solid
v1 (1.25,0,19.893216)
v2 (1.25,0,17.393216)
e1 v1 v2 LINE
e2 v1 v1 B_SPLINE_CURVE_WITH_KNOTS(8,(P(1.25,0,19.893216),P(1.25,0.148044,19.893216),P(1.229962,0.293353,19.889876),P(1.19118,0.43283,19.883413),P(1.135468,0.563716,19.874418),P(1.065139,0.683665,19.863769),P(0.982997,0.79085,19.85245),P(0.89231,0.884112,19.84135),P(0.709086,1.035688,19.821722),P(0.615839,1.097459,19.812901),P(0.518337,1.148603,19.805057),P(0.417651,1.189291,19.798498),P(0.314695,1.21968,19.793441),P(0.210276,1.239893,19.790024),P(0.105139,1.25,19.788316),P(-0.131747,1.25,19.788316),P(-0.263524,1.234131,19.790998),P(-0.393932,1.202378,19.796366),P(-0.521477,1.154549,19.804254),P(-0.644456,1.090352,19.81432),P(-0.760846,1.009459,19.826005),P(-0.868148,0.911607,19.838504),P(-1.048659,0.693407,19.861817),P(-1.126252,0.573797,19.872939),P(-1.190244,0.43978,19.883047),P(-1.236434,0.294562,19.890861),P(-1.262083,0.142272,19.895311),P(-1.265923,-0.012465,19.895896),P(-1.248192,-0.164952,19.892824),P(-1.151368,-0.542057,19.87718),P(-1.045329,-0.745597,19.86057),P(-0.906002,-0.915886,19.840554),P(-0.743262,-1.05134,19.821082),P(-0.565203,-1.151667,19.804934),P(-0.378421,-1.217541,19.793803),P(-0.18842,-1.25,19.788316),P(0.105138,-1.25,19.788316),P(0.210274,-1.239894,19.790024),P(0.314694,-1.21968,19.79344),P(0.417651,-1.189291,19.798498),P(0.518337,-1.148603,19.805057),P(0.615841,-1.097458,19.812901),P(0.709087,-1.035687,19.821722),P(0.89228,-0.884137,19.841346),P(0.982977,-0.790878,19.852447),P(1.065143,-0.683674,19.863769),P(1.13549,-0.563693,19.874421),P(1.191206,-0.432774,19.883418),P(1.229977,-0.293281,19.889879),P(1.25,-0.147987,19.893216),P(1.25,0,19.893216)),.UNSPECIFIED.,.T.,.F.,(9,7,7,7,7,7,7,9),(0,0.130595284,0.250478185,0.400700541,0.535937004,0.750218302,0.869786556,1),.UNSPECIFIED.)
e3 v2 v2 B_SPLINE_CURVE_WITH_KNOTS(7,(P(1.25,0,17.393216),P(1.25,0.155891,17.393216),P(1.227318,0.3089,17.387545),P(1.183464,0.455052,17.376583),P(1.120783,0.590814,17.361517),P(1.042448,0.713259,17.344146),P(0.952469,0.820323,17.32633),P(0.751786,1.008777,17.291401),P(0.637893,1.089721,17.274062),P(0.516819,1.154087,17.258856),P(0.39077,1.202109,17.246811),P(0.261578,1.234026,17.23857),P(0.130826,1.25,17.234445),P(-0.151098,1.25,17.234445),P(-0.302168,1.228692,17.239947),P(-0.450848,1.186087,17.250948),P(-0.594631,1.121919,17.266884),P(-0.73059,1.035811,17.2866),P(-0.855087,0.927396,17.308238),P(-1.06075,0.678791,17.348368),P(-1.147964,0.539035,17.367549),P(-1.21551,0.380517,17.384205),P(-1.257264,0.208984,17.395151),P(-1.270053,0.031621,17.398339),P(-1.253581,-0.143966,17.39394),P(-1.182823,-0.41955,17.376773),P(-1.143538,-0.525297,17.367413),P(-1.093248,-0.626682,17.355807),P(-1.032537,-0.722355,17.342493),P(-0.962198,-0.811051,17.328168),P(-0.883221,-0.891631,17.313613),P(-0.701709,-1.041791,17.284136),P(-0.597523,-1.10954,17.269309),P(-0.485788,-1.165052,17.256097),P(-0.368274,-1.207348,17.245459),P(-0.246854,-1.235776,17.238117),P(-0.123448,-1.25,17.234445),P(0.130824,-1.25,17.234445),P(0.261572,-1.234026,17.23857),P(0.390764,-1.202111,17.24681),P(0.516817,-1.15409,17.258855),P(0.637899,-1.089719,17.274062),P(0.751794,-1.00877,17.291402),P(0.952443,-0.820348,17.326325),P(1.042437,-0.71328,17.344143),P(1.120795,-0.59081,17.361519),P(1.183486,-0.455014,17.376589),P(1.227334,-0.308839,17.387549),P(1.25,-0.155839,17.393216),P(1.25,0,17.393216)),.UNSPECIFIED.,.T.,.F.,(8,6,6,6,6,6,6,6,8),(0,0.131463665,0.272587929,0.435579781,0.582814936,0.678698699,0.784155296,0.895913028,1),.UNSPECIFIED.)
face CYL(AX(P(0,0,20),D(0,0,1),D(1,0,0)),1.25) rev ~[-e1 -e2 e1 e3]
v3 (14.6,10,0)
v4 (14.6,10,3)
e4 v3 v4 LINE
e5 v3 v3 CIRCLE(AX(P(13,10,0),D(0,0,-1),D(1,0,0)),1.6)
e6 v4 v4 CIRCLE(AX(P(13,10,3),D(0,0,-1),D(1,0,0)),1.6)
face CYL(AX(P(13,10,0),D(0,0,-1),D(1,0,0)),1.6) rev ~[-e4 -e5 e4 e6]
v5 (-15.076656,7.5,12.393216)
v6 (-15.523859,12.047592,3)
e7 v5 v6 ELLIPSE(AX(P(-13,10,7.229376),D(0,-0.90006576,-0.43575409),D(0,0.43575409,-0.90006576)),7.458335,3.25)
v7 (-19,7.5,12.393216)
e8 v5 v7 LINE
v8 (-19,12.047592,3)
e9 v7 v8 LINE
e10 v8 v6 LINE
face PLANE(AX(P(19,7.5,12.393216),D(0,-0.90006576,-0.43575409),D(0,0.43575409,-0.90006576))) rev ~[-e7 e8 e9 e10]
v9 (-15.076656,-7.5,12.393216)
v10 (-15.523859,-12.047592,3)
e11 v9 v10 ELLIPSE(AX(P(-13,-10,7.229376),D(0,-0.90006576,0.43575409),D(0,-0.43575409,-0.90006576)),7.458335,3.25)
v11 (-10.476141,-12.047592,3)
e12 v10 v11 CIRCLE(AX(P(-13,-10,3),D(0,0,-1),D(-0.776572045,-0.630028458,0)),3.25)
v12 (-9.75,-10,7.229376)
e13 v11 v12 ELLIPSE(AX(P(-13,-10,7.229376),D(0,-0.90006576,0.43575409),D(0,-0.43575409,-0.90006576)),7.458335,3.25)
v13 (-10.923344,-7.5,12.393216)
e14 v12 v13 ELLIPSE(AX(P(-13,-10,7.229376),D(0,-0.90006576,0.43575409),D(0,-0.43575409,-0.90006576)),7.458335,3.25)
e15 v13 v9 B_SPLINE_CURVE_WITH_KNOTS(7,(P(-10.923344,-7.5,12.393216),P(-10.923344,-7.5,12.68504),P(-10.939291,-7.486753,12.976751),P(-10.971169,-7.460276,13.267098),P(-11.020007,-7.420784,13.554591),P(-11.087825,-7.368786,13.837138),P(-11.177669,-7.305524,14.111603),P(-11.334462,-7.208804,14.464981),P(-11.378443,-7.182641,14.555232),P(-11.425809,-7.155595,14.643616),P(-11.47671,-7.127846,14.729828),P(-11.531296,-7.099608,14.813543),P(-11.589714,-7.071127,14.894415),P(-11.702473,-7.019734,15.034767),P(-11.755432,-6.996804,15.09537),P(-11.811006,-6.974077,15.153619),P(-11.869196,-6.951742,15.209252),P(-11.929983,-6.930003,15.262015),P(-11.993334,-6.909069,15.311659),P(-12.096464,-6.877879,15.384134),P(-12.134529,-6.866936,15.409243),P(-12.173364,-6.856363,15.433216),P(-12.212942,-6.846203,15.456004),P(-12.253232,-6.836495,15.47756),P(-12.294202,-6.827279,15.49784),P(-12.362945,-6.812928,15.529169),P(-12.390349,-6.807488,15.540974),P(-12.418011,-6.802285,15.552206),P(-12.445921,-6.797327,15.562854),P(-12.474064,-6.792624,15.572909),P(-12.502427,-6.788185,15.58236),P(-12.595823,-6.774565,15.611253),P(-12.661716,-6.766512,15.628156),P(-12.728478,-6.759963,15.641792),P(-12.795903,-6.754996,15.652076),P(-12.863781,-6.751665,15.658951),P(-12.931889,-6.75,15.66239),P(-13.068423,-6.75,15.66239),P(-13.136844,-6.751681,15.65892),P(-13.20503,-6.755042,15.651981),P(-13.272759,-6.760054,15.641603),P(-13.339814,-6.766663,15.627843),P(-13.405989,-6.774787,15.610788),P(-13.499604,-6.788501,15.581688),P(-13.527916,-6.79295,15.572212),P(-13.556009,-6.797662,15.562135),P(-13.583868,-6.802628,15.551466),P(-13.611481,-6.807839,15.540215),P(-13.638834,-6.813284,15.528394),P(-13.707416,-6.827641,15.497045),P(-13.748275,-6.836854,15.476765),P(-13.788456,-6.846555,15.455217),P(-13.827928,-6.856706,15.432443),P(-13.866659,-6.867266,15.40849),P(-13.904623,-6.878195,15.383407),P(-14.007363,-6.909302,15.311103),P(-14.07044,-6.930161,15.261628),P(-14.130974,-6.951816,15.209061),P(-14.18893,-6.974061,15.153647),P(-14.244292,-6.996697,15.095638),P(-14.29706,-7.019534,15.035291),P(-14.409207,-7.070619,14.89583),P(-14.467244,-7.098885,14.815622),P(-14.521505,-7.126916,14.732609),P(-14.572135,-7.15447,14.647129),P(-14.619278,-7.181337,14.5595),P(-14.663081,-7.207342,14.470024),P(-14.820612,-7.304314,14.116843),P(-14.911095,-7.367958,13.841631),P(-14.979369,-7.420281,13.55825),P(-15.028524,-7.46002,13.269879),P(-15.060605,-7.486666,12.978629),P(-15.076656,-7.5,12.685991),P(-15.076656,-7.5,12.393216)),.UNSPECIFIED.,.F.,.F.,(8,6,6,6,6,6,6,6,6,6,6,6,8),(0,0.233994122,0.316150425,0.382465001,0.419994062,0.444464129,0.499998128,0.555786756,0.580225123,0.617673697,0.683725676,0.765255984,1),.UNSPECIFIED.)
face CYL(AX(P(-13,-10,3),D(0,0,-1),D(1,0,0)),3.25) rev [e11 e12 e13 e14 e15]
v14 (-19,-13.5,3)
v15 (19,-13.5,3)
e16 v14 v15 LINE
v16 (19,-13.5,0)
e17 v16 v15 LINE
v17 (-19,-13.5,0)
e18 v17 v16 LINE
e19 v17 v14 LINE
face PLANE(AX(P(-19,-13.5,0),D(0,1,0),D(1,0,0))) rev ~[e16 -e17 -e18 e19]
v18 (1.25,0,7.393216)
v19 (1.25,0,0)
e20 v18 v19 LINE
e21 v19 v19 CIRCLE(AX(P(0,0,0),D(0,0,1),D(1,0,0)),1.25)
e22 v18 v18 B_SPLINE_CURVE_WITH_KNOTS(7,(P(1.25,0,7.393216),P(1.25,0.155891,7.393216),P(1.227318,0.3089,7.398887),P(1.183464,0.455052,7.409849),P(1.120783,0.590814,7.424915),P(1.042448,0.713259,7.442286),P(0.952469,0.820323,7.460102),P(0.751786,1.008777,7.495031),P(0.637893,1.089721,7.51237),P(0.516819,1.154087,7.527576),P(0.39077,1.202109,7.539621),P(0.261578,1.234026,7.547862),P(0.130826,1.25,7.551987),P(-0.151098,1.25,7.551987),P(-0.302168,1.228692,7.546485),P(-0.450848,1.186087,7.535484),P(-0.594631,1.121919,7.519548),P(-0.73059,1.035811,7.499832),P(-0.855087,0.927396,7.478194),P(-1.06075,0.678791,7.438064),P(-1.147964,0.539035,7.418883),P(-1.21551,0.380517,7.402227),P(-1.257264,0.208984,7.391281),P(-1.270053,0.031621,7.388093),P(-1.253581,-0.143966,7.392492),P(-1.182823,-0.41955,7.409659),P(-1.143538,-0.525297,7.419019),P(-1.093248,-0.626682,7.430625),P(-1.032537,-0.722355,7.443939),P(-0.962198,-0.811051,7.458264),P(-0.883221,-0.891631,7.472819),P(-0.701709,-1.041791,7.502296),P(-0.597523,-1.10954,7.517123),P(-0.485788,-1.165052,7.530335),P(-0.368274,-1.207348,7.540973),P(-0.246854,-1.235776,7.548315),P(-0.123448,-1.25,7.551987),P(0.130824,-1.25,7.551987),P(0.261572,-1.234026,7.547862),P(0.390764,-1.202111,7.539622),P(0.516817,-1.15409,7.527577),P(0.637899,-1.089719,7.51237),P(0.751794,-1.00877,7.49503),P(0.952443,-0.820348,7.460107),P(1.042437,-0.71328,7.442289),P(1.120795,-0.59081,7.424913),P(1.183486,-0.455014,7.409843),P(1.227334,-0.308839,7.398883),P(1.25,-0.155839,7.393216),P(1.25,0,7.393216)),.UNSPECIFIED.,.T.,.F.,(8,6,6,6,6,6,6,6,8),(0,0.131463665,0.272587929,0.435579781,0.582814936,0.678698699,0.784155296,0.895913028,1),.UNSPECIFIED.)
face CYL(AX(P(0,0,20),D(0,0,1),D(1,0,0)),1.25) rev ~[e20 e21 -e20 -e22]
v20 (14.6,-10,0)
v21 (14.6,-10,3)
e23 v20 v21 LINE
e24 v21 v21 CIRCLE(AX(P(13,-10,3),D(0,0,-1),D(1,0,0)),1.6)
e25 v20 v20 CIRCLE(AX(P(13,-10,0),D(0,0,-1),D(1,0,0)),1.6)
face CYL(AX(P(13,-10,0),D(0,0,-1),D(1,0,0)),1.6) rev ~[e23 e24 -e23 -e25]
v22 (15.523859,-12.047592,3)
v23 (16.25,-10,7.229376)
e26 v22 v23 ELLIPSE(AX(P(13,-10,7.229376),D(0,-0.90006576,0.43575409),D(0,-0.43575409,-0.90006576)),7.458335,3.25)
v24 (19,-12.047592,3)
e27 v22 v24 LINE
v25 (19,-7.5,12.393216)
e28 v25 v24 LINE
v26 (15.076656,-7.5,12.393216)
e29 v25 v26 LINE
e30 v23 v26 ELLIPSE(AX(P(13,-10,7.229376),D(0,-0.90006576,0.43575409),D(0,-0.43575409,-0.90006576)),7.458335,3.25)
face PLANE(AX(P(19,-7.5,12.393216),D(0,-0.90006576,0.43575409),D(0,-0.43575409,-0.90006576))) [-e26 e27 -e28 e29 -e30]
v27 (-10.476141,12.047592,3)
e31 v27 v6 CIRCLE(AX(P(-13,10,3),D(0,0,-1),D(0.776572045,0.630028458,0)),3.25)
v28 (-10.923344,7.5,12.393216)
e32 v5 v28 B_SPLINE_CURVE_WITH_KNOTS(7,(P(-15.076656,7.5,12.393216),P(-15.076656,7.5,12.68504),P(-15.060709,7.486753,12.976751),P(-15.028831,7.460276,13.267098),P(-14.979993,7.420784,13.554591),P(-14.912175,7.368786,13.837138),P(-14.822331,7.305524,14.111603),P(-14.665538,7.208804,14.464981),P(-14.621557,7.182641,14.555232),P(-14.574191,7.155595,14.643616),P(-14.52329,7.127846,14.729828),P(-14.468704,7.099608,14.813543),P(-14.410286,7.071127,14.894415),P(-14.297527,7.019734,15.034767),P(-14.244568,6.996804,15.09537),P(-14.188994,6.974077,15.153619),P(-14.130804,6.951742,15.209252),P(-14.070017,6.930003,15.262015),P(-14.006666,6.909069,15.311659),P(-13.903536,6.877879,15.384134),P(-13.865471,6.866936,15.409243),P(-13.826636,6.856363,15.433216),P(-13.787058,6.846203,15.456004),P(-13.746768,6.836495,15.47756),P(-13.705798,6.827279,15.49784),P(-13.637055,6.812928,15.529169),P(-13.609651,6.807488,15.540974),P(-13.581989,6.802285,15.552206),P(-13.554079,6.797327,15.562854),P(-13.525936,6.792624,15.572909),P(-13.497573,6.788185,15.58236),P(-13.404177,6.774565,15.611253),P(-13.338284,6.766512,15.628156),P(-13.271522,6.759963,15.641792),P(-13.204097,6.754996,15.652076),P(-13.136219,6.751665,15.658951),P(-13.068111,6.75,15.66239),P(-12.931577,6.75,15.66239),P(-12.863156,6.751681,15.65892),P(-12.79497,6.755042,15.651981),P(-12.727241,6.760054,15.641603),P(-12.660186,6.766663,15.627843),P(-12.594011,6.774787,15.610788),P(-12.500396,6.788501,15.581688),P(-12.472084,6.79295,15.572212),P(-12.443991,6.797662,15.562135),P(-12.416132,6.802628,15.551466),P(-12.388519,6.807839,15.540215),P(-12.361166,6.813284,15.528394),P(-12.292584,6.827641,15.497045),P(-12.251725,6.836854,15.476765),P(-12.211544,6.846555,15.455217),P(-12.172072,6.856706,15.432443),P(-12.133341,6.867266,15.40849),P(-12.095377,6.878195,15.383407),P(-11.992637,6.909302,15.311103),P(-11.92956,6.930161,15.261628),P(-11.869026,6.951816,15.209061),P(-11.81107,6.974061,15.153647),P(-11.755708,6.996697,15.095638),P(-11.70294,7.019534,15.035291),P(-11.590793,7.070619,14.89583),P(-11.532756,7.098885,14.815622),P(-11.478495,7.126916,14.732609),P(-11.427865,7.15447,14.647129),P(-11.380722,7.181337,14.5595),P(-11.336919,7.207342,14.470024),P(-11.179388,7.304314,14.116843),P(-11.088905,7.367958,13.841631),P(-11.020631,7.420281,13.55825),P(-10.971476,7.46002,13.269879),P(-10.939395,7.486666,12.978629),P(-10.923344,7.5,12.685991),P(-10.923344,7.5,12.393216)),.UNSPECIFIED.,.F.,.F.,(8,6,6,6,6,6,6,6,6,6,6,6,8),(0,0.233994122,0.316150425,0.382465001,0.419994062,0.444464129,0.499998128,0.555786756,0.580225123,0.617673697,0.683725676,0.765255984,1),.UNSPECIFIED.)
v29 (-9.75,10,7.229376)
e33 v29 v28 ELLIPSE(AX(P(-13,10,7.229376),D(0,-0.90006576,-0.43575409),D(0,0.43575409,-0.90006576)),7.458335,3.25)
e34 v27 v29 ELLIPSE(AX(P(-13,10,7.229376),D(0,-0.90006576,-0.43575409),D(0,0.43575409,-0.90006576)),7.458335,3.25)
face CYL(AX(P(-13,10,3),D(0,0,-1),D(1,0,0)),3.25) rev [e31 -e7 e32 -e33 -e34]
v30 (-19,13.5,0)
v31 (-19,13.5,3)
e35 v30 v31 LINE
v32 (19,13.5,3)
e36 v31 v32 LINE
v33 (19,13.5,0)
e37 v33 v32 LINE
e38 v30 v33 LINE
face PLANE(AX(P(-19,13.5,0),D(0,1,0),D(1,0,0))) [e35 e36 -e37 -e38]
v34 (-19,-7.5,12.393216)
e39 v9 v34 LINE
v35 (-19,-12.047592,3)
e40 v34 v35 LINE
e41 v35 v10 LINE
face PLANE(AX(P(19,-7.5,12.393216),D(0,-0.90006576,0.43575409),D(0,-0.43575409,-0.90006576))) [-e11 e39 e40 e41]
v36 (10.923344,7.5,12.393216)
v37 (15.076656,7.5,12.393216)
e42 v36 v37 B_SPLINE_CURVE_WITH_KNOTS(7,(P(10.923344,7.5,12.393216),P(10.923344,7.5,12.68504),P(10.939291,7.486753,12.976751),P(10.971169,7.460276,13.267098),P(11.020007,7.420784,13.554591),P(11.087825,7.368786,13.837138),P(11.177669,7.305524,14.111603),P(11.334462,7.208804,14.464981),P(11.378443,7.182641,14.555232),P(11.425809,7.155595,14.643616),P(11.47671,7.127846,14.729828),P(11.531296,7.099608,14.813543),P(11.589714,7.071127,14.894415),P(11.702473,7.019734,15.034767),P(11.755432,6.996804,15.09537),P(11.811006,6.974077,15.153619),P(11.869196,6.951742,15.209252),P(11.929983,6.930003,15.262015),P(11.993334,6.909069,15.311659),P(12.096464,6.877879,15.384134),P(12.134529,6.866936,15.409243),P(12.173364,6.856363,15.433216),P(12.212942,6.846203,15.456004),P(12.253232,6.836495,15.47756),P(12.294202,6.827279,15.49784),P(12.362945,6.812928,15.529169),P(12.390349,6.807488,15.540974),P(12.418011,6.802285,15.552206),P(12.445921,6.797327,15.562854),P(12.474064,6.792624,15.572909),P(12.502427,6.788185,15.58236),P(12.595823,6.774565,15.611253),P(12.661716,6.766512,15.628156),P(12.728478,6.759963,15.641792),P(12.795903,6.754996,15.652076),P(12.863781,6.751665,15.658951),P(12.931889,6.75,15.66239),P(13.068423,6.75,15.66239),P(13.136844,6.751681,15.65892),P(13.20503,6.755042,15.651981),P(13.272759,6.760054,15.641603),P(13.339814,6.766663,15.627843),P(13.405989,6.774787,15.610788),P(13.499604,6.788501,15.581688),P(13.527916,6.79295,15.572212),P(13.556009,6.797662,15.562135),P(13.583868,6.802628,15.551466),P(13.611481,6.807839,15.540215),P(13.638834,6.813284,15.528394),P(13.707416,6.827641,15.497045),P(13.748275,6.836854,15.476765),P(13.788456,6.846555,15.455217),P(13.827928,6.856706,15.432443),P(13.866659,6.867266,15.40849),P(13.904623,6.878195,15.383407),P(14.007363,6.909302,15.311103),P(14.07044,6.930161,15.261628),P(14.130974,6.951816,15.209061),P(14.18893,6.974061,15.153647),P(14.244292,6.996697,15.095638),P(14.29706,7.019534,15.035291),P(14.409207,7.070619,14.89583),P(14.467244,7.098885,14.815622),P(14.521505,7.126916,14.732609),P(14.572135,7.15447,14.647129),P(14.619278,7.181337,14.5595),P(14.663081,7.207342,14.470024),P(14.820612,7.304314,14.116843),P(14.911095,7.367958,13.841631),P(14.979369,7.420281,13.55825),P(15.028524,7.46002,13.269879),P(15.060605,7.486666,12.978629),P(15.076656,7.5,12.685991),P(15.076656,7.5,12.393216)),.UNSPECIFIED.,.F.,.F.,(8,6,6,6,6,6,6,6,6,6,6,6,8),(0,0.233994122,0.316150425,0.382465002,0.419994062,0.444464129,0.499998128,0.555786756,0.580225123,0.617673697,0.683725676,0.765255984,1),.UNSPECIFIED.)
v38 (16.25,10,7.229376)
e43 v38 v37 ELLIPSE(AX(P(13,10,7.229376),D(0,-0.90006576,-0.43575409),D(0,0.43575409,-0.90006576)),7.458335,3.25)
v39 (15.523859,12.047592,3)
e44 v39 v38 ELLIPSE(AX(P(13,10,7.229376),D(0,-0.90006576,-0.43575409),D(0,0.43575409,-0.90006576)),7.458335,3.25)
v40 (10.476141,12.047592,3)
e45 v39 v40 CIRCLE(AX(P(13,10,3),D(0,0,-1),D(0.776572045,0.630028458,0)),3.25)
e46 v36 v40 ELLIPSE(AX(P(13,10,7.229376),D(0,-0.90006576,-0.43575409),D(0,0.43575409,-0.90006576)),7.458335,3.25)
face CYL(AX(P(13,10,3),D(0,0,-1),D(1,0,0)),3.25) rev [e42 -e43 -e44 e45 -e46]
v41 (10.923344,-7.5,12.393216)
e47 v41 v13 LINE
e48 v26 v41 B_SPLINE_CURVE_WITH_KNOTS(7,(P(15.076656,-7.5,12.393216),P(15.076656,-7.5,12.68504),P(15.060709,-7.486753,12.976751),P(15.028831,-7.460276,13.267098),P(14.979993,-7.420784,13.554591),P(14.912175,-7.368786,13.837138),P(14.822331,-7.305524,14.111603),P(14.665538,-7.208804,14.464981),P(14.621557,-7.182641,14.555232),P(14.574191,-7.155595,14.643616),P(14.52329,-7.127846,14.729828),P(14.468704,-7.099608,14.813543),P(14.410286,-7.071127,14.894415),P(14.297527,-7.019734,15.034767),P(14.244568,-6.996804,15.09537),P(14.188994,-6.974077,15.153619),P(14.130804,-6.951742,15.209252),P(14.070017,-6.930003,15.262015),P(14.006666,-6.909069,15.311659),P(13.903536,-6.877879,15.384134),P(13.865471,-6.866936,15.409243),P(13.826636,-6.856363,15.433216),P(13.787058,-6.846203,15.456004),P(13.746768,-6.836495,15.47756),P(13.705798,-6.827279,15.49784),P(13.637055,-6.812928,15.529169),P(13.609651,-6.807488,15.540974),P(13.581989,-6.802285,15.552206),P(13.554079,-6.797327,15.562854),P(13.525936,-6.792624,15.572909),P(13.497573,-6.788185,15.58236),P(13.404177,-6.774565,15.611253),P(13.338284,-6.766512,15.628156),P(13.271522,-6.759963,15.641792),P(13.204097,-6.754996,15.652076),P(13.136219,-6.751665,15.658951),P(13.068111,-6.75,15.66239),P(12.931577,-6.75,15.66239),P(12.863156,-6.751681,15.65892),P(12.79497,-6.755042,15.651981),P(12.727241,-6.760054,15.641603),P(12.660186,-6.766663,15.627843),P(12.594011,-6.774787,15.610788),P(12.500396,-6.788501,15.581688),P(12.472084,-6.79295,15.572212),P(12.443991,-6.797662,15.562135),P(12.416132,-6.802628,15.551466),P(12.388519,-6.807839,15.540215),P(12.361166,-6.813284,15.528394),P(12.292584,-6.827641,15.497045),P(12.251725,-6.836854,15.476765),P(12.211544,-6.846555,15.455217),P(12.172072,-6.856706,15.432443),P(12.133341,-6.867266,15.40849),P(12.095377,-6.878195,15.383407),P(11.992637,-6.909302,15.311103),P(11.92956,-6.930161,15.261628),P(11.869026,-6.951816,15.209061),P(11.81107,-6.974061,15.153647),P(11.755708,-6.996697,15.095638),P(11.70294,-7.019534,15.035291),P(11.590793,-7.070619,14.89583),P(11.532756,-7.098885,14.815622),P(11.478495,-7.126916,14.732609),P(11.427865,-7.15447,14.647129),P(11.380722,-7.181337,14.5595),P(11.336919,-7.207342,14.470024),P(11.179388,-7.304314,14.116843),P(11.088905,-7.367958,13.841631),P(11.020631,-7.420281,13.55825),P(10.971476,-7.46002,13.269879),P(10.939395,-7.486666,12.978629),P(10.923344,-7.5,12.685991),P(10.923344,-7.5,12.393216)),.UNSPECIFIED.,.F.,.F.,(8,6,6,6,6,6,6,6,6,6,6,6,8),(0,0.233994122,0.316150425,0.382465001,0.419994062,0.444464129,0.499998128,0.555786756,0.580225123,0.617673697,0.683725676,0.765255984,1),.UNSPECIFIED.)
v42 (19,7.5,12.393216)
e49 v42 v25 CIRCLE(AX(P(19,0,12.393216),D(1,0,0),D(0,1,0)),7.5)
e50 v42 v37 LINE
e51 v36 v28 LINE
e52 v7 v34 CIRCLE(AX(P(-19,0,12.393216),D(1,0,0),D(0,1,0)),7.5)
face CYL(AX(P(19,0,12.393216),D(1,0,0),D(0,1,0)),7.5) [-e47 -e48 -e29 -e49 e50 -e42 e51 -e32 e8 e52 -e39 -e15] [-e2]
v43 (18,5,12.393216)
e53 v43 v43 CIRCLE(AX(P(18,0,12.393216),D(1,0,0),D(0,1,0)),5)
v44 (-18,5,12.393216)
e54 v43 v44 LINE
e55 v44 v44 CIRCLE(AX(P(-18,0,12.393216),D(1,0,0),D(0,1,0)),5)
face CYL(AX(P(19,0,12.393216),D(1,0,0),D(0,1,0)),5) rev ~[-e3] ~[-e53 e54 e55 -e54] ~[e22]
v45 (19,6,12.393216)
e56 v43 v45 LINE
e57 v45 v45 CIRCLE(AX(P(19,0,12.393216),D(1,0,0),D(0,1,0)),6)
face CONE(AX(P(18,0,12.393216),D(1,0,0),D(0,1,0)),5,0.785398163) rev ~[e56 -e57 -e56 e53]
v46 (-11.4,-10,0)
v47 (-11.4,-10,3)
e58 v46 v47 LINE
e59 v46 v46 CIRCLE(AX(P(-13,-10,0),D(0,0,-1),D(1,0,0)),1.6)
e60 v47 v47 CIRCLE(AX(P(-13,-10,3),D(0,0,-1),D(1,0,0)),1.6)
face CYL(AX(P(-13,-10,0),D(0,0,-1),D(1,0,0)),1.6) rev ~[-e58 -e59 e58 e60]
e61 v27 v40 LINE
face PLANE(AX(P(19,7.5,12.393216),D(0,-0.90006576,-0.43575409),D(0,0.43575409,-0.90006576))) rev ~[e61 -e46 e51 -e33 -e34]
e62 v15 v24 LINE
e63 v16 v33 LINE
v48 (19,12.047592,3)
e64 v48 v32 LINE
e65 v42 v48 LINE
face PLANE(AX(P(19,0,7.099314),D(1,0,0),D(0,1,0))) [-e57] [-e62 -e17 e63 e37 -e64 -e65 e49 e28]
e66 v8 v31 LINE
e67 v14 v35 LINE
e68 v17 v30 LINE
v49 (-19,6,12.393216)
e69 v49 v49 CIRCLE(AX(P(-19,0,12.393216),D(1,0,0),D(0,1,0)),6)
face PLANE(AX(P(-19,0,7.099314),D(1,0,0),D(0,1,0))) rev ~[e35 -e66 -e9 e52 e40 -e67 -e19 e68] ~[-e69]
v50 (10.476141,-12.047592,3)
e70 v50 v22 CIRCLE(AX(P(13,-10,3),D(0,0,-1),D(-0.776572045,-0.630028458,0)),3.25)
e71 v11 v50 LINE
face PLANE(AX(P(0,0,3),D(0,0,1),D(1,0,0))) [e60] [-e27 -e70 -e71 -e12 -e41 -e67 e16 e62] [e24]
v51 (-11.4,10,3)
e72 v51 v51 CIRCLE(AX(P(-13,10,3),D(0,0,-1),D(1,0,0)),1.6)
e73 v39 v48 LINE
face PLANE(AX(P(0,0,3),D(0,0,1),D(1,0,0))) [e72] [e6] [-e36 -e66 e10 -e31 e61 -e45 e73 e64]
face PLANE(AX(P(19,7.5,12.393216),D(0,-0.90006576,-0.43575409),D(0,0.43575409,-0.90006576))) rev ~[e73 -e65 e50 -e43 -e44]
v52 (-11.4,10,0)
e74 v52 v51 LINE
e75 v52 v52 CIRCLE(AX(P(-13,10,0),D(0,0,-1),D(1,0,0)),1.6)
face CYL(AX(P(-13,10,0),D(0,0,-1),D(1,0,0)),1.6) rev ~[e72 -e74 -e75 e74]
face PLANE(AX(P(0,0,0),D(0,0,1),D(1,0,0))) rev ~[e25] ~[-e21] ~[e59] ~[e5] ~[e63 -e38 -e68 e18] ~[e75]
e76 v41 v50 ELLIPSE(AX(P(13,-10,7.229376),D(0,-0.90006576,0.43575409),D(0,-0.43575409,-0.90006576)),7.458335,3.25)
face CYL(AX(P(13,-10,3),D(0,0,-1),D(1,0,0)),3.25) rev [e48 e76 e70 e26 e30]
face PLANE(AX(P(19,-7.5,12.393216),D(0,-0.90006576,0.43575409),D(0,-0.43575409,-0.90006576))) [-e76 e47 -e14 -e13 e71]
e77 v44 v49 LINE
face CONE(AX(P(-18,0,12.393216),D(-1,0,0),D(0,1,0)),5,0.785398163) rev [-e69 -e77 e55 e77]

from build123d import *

# Parameters (mm, degrees)
SKETCH_W        = 38
SKETCH_H        = 27
SKETCH_R        = 1.65
PAD_DEPTH       = 3
SKETCH001_R     = 5
PAD001_DEPTH    = 38
SKETCH002_R     = 1.6
POCKET_DEPTH    = 19.894216
SKETCH004_R     = 1.25
POCKET002_DEPTH = 20.001
SKETCH005_R     = 3.25
POCKET003_DEPTH = 16.894216
CHAMFER_SIZE    = 1
CHAMFER001_SIZE = 1


with BuildPart() as part:
    # Sketch → Pad (new body)
    with BuildSketch(Plane.XY):
        Rectangle(SKETCH_W, SKETCH_H)
        with Locations((-13, -10)):
            Circle(SKETCH_R, mode=Mode.SUBTRACT)
        with Locations((-13, 10)):
            Circle(SKETCH_R, mode=Mode.SUBTRACT)
        with Locations((13, 10)):
            Circle(SKETCH_R, mode=Mode.SUBTRACT)
        with Locations((13, -10)):
            Circle(SKETCH_R, mode=Mode.SUBTRACT)
    extrude(amount=PAD_DEPTH)

    # Sketch001 (on Face2 of Pad) → Pad001 (join)
    with BuildSketch(Plane.YZ.offset(19)):
        with BuildLine():
            ThreePointArc((7.5, 12.393216), (0, 19.893216), (-7.5, 12.393216))
            Line((-7.5, 12.393216), (-13.5, 0))
            Line((-13.5, 0), (13.5, 0))
            Line((7.5, 12.393216), (13.5, 0))
        make_face()
        with Locations((0, 12.393216)):
            Circle(SKETCH001_R, mode=Mode.SUBTRACT)
    extrude(amount=-PAD001_DEPTH)

    # Sketch002 (on Face4 of Pad001) → Pocket (cut, through all)
    with BuildSketch(Plane(origin=(0, 0, 0), x_dir=(1, 0, 0), z_dir=(0, 0, -1))):
        with Locations((13, 10)):
            Circle(SKETCH002_R)
        with Locations((-13, 10)):
            Circle(SKETCH002_R)
        with Locations((-13, -10)):
            Circle(SKETCH002_R)
        with Locations((13, -10)):
            Circle(SKETCH002_R)
    extrude(amount=-POCKET_DEPTH, mode=Mode.SUBTRACT)

    # Sketch004 → Pocket002 (cut, through all)
    with BuildSketch(Plane.XY.offset(20)):
        Circle(SKETCH004_R)
    extrude(amount=-POCKET002_DEPTH, mode=Mode.SUBTRACT)

    # Sketch005 (on Face19 of Pocket002) → Pocket003 (cut, through all)
    with BuildSketch(Plane.XY.offset(3)):
        with Locations((-13, 10)):
            Circle(SKETCH005_R)
        with Locations((13, 10)):
            Circle(SKETCH005_R)
        with Locations((13, -10)):
            Circle(SKETCH005_R)
        with Locations((-13, -10)):
            Circle(SKETCH005_R)
    extrude(amount=POCKET003_DEPTH, mode=Mode.SUBTRACT)

    # Chamfer
    chamfer_edges = [part.edges().sort_by_distance(p)[0] for p in [
        (19, -5, 12.393216),
    ]]
    chamfer(chamfer_edges, length=CHAMFER_SIZE)

    # Chamfer001
    chamfer001_edges = [part.edges().sort_by_distance(p)[0] for p in [
        (-19, -5, 12.393216),
    ]]
    chamfer(chamfer001_edges, length=CHAMFER001_SIZE)


solid = part.part
